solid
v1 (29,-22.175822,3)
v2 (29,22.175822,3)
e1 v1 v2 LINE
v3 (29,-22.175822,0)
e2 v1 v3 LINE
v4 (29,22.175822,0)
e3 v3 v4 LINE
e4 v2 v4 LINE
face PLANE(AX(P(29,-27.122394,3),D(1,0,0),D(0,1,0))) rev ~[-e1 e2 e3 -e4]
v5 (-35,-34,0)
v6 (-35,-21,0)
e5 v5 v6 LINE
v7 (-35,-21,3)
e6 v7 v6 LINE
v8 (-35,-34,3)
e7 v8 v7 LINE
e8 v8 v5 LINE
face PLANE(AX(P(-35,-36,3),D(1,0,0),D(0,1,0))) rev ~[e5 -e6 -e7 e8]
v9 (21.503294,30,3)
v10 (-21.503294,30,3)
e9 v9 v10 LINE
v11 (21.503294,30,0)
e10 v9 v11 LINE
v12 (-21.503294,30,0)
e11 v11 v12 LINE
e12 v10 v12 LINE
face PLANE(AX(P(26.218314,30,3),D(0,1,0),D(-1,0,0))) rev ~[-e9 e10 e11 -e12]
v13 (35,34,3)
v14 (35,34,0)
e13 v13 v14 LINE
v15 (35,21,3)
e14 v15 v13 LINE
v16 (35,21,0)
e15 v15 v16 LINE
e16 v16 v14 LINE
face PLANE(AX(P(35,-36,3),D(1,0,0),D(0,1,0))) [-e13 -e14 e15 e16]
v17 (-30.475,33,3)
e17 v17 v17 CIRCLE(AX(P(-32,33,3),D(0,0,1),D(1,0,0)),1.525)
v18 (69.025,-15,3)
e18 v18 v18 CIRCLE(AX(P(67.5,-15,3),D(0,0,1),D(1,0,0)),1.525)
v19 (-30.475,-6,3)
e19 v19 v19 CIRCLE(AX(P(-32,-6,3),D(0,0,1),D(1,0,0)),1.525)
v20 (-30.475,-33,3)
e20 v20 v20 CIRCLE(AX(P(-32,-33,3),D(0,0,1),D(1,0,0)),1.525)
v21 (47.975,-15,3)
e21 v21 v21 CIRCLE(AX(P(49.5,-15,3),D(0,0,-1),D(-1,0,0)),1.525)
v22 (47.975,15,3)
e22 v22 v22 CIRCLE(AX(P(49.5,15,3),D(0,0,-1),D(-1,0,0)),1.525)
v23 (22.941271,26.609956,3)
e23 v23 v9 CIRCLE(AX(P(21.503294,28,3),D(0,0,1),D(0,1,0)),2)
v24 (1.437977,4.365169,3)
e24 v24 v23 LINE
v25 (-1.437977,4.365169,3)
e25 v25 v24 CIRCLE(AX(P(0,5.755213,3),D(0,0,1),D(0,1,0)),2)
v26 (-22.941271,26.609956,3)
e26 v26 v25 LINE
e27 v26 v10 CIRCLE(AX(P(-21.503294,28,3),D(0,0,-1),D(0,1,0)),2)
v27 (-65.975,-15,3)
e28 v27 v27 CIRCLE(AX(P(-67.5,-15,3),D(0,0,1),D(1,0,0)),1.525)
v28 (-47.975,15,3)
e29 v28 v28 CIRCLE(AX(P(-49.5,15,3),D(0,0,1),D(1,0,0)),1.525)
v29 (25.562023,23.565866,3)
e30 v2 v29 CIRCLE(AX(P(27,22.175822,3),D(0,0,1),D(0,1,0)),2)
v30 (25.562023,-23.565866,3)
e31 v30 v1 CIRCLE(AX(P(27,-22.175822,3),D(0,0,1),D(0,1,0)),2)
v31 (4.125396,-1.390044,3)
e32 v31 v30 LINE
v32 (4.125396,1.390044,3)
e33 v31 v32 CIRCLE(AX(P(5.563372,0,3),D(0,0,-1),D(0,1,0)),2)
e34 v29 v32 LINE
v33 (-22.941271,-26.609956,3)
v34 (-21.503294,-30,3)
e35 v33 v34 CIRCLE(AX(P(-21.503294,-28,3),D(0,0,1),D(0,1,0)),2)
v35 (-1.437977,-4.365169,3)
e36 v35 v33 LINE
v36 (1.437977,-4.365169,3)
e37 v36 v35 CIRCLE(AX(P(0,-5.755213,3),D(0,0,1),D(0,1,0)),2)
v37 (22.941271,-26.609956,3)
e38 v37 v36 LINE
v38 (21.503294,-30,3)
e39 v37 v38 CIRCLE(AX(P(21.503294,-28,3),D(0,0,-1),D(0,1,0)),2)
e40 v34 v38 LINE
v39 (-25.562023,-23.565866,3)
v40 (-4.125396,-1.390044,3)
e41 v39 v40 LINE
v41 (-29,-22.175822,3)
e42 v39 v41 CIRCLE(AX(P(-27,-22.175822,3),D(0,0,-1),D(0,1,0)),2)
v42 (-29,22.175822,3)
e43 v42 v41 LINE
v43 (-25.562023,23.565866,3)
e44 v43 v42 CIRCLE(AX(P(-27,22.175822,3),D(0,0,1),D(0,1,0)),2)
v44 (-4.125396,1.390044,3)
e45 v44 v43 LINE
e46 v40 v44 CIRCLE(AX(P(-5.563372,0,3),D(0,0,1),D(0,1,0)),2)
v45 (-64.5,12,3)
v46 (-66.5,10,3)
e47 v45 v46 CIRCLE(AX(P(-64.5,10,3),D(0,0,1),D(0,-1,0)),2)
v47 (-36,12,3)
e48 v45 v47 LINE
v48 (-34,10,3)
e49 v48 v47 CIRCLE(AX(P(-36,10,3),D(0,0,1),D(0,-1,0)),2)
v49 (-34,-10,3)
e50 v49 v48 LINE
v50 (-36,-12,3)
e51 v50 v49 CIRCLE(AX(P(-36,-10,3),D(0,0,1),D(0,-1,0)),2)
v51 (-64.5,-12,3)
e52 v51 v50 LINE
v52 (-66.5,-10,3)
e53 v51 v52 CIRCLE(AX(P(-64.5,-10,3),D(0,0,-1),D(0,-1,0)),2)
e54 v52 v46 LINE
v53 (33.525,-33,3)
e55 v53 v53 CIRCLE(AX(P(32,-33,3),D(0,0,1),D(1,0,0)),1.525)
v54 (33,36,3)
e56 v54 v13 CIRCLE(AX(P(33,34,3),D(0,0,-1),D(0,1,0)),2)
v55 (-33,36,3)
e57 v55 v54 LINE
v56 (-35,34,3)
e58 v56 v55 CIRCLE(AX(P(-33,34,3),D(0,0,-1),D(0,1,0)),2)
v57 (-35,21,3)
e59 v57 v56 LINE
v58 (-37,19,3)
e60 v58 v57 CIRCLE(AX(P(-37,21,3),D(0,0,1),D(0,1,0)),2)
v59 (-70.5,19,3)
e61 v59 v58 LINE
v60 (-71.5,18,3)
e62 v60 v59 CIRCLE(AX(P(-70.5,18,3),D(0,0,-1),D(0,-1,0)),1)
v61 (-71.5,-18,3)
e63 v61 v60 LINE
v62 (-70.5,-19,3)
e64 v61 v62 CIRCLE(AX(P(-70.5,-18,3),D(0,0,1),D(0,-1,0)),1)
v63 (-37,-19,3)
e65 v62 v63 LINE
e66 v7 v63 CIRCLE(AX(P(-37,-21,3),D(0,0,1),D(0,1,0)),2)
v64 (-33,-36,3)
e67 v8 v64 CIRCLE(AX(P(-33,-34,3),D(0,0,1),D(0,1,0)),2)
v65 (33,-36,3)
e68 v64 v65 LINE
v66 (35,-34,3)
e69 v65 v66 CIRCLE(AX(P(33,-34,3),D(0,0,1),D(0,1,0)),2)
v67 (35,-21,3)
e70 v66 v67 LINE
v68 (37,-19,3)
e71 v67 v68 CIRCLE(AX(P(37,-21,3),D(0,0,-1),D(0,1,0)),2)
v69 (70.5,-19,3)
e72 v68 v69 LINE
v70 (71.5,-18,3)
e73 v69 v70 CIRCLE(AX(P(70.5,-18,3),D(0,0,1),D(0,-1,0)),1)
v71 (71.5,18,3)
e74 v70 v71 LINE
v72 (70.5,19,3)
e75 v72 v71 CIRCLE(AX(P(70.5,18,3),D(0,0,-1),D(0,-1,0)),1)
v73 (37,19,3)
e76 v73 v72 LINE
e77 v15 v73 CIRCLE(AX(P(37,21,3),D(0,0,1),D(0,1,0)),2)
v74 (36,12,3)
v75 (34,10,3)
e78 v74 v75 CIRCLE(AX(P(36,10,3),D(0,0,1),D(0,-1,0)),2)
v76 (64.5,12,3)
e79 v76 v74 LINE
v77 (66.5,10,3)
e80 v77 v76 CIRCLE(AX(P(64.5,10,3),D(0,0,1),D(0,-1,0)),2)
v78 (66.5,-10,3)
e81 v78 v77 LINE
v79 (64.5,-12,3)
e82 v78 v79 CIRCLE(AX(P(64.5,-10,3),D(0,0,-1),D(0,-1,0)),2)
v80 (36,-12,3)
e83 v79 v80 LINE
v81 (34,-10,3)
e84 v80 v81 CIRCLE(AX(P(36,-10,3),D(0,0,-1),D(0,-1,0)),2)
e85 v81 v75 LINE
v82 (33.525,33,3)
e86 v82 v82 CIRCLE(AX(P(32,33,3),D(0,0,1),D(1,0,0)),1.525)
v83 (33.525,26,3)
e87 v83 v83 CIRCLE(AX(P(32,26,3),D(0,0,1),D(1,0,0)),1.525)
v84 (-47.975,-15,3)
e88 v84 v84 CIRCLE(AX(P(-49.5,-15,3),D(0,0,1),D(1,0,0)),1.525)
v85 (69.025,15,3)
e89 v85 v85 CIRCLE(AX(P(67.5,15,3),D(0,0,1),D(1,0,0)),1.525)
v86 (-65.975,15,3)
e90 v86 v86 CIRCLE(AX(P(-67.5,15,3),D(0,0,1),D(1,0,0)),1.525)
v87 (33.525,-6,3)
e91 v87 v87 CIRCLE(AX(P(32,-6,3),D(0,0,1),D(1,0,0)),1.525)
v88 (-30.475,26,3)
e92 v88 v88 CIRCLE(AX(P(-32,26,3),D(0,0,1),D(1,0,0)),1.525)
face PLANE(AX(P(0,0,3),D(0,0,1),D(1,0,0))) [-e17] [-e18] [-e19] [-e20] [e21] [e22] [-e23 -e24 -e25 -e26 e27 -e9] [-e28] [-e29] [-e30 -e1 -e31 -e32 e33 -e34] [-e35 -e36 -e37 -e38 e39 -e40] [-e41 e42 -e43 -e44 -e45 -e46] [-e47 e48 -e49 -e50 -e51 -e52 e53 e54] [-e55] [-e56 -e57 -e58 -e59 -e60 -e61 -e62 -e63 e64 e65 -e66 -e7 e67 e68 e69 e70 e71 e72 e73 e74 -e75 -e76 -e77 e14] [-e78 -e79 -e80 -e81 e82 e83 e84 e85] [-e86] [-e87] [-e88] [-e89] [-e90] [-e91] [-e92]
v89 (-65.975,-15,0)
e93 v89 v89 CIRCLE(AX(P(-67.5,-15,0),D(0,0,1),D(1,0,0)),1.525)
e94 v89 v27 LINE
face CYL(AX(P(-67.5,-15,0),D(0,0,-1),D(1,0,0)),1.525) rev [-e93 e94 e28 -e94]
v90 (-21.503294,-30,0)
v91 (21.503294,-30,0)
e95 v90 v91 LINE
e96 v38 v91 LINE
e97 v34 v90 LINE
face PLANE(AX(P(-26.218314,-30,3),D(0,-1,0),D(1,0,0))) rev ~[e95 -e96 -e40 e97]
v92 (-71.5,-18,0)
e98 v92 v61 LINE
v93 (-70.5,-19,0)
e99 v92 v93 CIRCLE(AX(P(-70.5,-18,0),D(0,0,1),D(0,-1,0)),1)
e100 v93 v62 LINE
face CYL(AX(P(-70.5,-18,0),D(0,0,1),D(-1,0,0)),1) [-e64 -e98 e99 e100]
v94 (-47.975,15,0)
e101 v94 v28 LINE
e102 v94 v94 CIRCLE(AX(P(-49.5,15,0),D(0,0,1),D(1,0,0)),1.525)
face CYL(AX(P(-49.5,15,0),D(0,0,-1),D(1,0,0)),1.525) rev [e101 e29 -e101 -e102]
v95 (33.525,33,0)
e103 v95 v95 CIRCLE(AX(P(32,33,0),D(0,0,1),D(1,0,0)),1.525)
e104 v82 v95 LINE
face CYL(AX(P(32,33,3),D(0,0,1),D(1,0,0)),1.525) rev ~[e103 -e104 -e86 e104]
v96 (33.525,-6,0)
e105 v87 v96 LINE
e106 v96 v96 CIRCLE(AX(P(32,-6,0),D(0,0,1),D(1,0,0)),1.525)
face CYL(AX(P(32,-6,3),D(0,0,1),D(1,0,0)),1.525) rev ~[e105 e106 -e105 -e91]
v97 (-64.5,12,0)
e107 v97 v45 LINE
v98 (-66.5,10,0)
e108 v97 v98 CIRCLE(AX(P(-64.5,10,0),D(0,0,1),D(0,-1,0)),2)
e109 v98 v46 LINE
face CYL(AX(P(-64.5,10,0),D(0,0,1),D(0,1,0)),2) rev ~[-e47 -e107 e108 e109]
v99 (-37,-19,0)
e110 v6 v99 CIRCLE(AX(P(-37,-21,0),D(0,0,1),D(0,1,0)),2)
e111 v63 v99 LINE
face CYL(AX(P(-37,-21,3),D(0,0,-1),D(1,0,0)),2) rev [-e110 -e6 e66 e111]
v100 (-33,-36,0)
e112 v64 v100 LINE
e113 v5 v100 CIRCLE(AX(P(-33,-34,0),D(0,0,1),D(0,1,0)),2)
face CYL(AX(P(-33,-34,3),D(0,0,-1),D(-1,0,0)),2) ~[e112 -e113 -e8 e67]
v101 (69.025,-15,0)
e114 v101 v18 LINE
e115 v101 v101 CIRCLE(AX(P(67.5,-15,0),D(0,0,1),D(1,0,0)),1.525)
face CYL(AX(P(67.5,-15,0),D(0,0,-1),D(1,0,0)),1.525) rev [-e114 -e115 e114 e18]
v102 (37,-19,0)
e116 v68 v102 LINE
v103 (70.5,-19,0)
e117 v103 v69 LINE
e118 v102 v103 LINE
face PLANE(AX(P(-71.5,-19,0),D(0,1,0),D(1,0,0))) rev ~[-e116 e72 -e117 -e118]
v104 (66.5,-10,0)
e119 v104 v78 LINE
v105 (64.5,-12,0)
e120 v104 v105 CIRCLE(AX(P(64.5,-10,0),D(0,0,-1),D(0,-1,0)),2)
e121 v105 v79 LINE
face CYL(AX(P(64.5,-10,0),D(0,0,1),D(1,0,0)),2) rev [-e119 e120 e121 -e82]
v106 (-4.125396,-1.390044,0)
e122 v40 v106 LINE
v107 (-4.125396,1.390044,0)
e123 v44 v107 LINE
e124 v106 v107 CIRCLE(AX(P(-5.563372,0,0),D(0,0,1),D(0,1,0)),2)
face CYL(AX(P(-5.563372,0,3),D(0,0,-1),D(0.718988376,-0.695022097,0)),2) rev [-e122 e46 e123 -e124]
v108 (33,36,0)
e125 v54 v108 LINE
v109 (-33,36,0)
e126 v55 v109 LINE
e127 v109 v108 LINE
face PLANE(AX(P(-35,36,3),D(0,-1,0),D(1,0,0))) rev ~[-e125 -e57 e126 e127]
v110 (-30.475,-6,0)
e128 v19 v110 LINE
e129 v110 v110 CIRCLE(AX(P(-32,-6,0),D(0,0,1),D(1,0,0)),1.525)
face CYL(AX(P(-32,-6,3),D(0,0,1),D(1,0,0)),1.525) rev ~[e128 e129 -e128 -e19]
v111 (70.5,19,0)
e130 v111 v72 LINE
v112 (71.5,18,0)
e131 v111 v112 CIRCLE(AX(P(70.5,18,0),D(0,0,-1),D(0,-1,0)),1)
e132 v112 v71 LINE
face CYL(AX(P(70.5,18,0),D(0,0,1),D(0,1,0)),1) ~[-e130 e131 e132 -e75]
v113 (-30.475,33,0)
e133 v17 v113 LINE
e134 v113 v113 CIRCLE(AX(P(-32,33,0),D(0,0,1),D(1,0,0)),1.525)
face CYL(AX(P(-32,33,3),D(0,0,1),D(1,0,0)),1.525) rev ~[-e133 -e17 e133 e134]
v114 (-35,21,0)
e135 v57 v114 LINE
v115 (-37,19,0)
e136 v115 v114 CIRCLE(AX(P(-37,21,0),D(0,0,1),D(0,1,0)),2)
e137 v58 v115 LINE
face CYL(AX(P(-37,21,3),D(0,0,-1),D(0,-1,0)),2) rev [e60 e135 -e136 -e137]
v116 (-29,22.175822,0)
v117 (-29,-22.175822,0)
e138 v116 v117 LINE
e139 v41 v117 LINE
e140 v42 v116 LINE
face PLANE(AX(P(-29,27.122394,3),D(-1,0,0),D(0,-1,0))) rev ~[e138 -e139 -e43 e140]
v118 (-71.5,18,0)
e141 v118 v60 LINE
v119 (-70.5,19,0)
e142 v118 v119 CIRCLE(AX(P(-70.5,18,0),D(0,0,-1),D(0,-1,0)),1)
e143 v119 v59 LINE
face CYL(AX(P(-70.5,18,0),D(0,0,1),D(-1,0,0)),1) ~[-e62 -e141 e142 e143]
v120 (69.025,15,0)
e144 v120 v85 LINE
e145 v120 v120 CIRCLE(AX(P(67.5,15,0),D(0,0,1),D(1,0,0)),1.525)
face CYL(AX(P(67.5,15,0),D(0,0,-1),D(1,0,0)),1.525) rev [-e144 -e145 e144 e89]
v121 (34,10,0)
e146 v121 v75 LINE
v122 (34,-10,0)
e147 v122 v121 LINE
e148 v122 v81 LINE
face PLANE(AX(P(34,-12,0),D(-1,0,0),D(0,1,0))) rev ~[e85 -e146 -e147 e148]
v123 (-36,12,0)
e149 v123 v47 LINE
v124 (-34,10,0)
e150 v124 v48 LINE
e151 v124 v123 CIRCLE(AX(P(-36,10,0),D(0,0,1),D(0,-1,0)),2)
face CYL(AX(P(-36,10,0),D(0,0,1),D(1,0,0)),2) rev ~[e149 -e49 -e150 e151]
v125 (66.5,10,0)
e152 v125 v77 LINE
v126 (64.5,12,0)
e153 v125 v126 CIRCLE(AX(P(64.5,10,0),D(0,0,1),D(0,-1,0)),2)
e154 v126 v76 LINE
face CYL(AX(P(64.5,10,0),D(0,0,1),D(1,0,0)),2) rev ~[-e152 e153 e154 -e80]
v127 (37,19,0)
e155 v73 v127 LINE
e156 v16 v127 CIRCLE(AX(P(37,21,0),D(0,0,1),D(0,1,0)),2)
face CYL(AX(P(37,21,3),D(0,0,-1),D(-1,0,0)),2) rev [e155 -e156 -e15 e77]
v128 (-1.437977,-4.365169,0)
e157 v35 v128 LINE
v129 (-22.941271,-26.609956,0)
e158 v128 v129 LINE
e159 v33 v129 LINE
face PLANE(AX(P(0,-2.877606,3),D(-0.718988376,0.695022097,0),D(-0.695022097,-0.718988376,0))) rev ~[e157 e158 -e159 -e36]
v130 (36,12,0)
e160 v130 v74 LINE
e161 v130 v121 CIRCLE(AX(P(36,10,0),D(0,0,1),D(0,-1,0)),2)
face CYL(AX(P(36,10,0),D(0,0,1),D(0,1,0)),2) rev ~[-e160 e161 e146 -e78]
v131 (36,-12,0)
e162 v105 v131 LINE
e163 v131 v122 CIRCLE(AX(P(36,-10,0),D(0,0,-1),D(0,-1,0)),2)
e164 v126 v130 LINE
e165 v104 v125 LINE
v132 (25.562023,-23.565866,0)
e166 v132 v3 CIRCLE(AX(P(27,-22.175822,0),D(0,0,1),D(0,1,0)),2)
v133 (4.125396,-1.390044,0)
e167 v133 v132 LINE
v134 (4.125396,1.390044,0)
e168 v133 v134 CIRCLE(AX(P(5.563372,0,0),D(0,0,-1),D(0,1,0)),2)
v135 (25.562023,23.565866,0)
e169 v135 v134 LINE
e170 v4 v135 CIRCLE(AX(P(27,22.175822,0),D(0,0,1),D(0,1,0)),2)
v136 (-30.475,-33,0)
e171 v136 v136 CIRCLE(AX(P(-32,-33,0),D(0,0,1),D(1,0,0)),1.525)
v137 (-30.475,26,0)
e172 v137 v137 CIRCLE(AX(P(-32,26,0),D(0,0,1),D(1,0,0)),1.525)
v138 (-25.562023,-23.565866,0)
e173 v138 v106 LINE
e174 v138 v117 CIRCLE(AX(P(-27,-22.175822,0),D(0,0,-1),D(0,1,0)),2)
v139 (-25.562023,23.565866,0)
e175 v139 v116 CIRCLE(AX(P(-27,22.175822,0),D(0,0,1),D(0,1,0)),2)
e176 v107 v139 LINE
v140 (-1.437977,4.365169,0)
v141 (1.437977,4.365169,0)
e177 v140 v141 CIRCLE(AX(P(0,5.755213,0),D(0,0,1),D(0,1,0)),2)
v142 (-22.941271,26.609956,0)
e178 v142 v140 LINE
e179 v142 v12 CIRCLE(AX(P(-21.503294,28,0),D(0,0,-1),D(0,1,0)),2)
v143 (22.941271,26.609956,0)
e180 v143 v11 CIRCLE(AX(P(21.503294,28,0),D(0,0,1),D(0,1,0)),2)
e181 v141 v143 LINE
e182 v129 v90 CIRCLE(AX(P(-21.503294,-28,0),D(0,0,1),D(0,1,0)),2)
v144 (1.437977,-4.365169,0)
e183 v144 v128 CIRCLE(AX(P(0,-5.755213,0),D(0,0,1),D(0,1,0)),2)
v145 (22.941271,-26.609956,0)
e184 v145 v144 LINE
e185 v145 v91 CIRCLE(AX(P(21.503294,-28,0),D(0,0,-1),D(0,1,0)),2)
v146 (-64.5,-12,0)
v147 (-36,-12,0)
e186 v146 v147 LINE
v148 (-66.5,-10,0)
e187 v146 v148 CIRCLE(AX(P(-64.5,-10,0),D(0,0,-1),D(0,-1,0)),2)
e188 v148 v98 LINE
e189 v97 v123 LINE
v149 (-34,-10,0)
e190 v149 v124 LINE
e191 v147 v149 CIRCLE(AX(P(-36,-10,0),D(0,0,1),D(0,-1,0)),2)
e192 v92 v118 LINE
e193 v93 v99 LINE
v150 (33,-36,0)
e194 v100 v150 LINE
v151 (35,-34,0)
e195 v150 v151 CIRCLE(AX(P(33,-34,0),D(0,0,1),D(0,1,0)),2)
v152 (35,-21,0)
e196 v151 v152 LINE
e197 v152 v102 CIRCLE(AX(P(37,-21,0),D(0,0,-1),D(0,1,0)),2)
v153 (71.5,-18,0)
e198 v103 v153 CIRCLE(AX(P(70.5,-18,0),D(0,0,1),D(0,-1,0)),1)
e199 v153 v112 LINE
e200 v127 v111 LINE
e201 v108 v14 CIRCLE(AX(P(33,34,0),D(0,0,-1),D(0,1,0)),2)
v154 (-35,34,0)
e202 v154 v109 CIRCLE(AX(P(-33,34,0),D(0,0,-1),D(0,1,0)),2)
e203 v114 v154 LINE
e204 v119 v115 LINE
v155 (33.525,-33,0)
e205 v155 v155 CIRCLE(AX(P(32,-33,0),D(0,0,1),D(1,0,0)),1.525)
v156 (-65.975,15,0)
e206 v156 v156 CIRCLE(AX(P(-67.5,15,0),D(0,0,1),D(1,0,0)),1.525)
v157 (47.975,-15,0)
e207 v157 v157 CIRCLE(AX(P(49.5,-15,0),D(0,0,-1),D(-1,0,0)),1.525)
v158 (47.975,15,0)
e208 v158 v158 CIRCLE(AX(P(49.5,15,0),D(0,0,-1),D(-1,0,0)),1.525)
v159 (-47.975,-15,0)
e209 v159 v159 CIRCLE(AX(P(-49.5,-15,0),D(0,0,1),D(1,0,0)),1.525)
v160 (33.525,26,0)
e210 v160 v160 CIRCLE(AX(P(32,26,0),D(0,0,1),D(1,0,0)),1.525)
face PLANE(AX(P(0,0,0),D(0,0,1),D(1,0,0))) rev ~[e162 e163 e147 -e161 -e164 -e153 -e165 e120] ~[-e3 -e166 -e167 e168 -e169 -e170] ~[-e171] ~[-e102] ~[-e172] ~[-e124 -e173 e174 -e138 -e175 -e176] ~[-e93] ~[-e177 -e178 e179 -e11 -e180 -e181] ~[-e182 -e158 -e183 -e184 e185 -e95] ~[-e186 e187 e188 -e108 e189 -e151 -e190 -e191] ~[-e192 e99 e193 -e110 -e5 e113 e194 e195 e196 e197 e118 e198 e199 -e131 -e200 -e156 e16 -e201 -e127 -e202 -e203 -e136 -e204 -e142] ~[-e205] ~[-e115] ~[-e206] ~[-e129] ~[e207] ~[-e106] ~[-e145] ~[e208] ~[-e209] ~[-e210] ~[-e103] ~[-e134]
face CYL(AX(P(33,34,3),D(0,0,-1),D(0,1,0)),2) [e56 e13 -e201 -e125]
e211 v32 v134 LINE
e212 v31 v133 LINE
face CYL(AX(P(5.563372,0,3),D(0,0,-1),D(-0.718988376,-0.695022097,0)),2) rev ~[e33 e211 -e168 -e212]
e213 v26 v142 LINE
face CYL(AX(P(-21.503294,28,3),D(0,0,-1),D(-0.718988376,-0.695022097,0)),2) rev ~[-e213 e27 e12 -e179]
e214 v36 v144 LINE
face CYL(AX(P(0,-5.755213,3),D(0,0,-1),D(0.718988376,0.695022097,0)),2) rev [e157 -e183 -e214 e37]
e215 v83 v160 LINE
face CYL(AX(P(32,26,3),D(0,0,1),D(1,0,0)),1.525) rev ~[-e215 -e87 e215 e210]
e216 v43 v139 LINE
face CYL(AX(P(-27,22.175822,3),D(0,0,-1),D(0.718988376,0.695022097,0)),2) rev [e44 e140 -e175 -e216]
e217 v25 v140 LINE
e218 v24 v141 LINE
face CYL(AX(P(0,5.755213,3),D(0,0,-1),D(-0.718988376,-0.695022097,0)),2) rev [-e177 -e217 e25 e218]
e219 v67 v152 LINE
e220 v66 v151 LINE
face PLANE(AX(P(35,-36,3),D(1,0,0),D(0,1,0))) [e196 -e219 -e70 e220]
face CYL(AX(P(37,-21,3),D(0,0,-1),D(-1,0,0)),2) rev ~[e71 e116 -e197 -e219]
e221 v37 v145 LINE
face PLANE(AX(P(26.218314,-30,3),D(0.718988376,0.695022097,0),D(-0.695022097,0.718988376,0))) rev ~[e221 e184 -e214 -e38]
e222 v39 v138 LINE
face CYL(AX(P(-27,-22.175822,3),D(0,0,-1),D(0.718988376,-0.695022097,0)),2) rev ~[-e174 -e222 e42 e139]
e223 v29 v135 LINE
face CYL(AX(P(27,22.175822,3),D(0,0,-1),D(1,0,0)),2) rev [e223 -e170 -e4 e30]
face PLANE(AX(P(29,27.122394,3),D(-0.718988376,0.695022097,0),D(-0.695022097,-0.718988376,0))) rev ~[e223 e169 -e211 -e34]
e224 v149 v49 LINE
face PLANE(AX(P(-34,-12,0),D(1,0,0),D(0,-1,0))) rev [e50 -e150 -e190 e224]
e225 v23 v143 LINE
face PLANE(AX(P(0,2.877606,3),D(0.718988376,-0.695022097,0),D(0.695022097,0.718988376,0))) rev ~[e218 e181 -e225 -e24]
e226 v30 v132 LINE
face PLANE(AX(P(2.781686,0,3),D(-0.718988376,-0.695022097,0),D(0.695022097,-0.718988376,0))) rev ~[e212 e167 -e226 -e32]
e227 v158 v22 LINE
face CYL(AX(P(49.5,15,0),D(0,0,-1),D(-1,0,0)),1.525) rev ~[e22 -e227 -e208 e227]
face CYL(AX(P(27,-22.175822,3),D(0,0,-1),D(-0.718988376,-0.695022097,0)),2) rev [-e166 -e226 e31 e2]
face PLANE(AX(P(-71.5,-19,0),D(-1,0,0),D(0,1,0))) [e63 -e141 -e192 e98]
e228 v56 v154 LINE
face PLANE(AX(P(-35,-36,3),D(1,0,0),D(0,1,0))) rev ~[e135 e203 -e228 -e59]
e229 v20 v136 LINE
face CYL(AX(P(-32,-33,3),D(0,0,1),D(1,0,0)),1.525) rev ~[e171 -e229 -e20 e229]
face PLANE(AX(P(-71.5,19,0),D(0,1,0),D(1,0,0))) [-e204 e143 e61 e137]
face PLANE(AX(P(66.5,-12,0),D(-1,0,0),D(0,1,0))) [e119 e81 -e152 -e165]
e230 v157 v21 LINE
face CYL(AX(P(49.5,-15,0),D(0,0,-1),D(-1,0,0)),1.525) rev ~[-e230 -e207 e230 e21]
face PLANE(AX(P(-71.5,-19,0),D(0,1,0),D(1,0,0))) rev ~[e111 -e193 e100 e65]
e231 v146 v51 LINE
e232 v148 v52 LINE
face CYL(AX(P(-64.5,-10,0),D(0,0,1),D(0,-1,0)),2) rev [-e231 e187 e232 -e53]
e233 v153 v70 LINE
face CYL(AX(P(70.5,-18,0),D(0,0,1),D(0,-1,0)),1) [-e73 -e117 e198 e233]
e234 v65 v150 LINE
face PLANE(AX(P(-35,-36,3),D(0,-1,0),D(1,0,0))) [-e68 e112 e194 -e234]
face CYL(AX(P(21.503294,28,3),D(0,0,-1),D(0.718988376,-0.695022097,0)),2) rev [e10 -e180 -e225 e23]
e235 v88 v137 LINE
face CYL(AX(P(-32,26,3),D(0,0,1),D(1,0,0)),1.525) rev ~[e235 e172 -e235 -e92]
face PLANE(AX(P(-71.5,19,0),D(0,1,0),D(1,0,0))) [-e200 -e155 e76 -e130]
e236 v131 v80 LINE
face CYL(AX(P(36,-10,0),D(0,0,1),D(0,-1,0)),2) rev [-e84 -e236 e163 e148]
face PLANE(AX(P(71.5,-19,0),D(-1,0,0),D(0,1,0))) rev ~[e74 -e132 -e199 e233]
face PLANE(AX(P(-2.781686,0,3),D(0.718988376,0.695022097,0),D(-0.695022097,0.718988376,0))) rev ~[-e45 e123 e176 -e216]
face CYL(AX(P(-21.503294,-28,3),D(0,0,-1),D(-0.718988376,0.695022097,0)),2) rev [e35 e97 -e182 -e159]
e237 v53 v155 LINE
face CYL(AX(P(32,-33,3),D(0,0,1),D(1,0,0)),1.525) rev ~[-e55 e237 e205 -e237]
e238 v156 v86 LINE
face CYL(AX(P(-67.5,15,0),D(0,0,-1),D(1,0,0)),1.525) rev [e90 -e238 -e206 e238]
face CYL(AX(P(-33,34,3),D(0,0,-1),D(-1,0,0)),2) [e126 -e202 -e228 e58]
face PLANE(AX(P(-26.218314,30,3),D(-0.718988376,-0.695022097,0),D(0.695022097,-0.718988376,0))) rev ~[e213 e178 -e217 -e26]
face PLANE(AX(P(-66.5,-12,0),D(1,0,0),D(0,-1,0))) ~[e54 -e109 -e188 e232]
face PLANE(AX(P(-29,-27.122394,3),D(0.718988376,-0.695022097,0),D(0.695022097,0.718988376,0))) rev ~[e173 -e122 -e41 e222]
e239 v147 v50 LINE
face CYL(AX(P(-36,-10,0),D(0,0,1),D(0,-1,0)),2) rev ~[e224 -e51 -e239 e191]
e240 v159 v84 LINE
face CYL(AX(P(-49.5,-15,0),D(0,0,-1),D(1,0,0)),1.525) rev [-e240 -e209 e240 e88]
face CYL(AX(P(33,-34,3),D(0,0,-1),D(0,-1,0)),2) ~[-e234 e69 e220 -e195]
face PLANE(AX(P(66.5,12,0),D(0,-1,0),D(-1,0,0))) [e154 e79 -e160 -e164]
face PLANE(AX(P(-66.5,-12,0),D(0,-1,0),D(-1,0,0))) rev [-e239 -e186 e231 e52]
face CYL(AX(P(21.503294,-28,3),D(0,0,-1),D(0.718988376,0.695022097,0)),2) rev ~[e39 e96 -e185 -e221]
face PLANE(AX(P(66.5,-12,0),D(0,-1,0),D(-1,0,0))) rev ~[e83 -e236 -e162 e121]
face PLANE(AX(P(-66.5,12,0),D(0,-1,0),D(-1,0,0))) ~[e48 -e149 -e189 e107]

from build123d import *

# Parameters (mm, degrees)
SKETCH_1_W          = 143
SKETCH_1_H          = 38
SKETCH_1_R          = 1.525
EXTRUDE_1_DEPTH     = 3
SKETCH_2_R          = 1.525
CUT_EXTRUDE_1_DEPTH = 3
FILLET_1_R          = 1
SKETCH_3_W          = 70
SKETCH_3_H          = 72
SKETCH_3_R          = 1.525
EXTRUDE_2_DEPTH     = 3
FILLET_2_R          = 2
SKETCH_4_R          = 1.525
CUT_EXTRUDE_2_DEPTH = 3
CUT_EXTRUDE_3_DEPTH = 3
FILLET_3_R          = 2
SKETCH_6_R          = 1.525
CUT_EXTRUDE_4_DEPTH = 3
SKETCH_7_W          = 32.5
SKETCH_7_H          = 24
CUT_EXTRUDE_5_DEPTH = 3
FILLET_4_R          = 2


with BuildPart() as part:
    # 草图1 → 凸台-拉伸1 (new body)
    with BuildSketch(Plane.XY):
        Rectangle(SKETCH_1_W, SKETCH_1_H)
        with Locations((67.5, 15)):
            Circle(SKETCH_1_R, mode=Mode.SUBTRACT)
        with Locations((67.5, -15)):
            Circle(SKETCH_1_R, mode=Mode.SUBTRACT)
        with Locations((-67.5, 15)):
            Circle(SKETCH_1_R, mode=Mode.SUBTRACT)
        with Locations((-67.5, -15)):
            Circle(SKETCH_1_R, mode=Mode.SUBTRACT)
    extrude(amount=EXTRUDE_1_DEPTH)

    # 草图2 → 切除-拉伸1 (cut)
    with BuildSketch(Plane.XY.offset(3)):
        with Locations((-32, 26)):
            Circle(SKETCH_2_R)
        with Locations((-32, -6)):
            Circle(SKETCH_2_R)
        with Locations((32, 26)):
            Circle(SKETCH_2_R)
        with Locations((32, -6)):
            Circle(SKETCH_2_R)
    extrude(amount=-CUT_EXTRUDE_1_DEPTH, mode=Mode.SUBTRACT)

    # 圆角1
    fillet_1_edges = [part.edges().sort_by_distance(p)[0] for p in [
        (71.5, -19, 1.5),
        (-71.5, -19, 1.5),
        (-71.5, 19, 1.5),
        (71.5, 19, 1.5),
    ]]
    fillet(fillet_1_edges, radius=FILLET_1_R)

    # 草图3 → 凸台-拉伸2 (add)
    with BuildSketch(Plane.XY.offset(3)):
        Rectangle(SKETCH_3_W, SKETCH_3_H)
        with Locations((-32, 26)):
            Circle(SKETCH_3_R, mode=Mode.SUBTRACT)
        with Locations((-32, -6)):
            Circle(SKETCH_3_R, mode=Mode.SUBTRACT)
        with Locations((32, -6)):
            Circle(SKETCH_3_R, mode=Mode.SUBTRACT)
        with Locations((32, 26)):
            Circle(SKETCH_3_R, mode=Mode.SUBTRACT)
    extrude(amount=-EXTRUDE_2_DEPTH)

    # 圆角2
    fillet_2_edges = [part.edges().sort_by_distance(p)[0] for p in [
        (-35, -19, 1.5),
        (35, -19, 1.5),
        (35, 36, 1.5),
        (-35, -36, 1.5),
        (35, 19, 1.5),
        (35, -36, 1.5),
        (-35, 19, 1.5),
        (-35, 36, 1.5),
    ]]
    fillet(fillet_2_edges, radius=FILLET_2_R)

    # 草图4 → 切除-拉伸2 (cut)
    with BuildSketch(Plane.XY.offset(3)):
        with Locations((32, 33)):
            Circle(SKETCH_4_R)
        with Locations((-32, 33)):
            Circle(SKETCH_4_R)
        with Locations((-32, -33)):
            Circle(SKETCH_4_R)
        with Locations((32, -33)):
            Circle(SKETCH_4_R)
    extrude(amount=-CUT_EXTRUDE_2_DEPTH, mode=Mode.SUBTRACT)

    # 草图5 → 切除-拉伸3 (cut)
    with BuildSketch(Plane.XY.offset(3)):
        Polygon((26.218313861, -30), (0, -2.877606351), (-26.218313861, -30), align=None)
        Polygon((2.781686139, 0), (29, -27.122393649), (29, 27.122393649), align=None)
        Polygon((-29, -27.122393649), (-2.781686139, 0), (-29, 27.122393649), align=None)
        Polygon((-26.218313861, 30), (0, 2.877606351), (26.218313861, 30), align=None)
    extrude(amount=-CUT_EXTRUDE_3_DEPTH, mode=Mode.SUBTRACT)

    # 圆角3
    fillet_3_edges = [part.edges().sort_by_distance(p)[0] for p in [
        (2.781686139, 0, 1.5),
        (29, -27.122393649, 1.5),
        (29, 27.122393649, 1.5),
        (-29, 27.122393649, 1.5),
        (-29, -27.122393649, 1.5),
        (-2.781686139, 0, 1.5),
        (-26.218313861, 30, 1.5),
        (0, 2.877606351, 1.5),
        (26.218313861, 30, 1.5),
        (-26.218313861, -30, 1.5),
        (26.218313861, -30, 1.5),
        (0, -2.877606351, 1.5),
    ]]
    fillet(fillet_3_edges, radius=FILLET_3_R)

    # 草图6 → 切除-拉伸4 (cut)
    with BuildSketch(Plane(origin=(0, 0, 0), x_dir=(-1, 0, 0), z_dir=(0, 0, -1))):
        with Locations((-49.5, 15)):
            Circle(SKETCH_6_R)
        with Locations((-49.5, -15)):
            Circle(SKETCH_6_R)
    cut_extrude_4 = extrude(amount=-CUT_EXTRUDE_4_DEPTH, mode=Mode.SUBTRACT)

    # 镜向1: 切除-拉伸4 across plane
    add(cut_extrude_4.mirror(Plane(origin=(0, 0, 0), x_dir=(0, 0, 1), z_dir=(1, 0, 0))), mode=Mode.SUBTRACT)

    # 草图7 → 切除-拉伸5 (cut)
    with BuildSketch(Plane(origin=(0, 0, 0), x_dir=(-1, 0, 0), z_dir=(0, 0, -1))):
        with Locations((-50.25, 0)):
            Rectangle(SKETCH_7_W, SKETCH_7_H)
    cut_extrude_5 = extrude(amount=-CUT_EXTRUDE_5_DEPTH, mode=Mode.SUBTRACT)

    # 镜向2: 切除-拉伸5 across plane
    add(cut_extrude_5.mirror(Plane(origin=(0, 0, 0), x_dir=(0, 0, 1), z_dir=(1, 0, 0))), mode=Mode.SUBTRACT)

    # 圆角4
    fillet_4_edges = [part.edges().sort_by_distance(p)[0] for p in [
        (34, 12, 1.5),
        (34, -12, 1.5),
        (66.5, -12, 1.5),
        (66.5, 12, 1.5),
        (-66.5, -12, 1.5),
        (-66.5, 12, 1.5),
        (-34, 12, 1.5),
        (-34, -12, 1.5),
    ]]
    fillet(fillet_4_edges, radius=FILLET_4_R)


solid = part.part
